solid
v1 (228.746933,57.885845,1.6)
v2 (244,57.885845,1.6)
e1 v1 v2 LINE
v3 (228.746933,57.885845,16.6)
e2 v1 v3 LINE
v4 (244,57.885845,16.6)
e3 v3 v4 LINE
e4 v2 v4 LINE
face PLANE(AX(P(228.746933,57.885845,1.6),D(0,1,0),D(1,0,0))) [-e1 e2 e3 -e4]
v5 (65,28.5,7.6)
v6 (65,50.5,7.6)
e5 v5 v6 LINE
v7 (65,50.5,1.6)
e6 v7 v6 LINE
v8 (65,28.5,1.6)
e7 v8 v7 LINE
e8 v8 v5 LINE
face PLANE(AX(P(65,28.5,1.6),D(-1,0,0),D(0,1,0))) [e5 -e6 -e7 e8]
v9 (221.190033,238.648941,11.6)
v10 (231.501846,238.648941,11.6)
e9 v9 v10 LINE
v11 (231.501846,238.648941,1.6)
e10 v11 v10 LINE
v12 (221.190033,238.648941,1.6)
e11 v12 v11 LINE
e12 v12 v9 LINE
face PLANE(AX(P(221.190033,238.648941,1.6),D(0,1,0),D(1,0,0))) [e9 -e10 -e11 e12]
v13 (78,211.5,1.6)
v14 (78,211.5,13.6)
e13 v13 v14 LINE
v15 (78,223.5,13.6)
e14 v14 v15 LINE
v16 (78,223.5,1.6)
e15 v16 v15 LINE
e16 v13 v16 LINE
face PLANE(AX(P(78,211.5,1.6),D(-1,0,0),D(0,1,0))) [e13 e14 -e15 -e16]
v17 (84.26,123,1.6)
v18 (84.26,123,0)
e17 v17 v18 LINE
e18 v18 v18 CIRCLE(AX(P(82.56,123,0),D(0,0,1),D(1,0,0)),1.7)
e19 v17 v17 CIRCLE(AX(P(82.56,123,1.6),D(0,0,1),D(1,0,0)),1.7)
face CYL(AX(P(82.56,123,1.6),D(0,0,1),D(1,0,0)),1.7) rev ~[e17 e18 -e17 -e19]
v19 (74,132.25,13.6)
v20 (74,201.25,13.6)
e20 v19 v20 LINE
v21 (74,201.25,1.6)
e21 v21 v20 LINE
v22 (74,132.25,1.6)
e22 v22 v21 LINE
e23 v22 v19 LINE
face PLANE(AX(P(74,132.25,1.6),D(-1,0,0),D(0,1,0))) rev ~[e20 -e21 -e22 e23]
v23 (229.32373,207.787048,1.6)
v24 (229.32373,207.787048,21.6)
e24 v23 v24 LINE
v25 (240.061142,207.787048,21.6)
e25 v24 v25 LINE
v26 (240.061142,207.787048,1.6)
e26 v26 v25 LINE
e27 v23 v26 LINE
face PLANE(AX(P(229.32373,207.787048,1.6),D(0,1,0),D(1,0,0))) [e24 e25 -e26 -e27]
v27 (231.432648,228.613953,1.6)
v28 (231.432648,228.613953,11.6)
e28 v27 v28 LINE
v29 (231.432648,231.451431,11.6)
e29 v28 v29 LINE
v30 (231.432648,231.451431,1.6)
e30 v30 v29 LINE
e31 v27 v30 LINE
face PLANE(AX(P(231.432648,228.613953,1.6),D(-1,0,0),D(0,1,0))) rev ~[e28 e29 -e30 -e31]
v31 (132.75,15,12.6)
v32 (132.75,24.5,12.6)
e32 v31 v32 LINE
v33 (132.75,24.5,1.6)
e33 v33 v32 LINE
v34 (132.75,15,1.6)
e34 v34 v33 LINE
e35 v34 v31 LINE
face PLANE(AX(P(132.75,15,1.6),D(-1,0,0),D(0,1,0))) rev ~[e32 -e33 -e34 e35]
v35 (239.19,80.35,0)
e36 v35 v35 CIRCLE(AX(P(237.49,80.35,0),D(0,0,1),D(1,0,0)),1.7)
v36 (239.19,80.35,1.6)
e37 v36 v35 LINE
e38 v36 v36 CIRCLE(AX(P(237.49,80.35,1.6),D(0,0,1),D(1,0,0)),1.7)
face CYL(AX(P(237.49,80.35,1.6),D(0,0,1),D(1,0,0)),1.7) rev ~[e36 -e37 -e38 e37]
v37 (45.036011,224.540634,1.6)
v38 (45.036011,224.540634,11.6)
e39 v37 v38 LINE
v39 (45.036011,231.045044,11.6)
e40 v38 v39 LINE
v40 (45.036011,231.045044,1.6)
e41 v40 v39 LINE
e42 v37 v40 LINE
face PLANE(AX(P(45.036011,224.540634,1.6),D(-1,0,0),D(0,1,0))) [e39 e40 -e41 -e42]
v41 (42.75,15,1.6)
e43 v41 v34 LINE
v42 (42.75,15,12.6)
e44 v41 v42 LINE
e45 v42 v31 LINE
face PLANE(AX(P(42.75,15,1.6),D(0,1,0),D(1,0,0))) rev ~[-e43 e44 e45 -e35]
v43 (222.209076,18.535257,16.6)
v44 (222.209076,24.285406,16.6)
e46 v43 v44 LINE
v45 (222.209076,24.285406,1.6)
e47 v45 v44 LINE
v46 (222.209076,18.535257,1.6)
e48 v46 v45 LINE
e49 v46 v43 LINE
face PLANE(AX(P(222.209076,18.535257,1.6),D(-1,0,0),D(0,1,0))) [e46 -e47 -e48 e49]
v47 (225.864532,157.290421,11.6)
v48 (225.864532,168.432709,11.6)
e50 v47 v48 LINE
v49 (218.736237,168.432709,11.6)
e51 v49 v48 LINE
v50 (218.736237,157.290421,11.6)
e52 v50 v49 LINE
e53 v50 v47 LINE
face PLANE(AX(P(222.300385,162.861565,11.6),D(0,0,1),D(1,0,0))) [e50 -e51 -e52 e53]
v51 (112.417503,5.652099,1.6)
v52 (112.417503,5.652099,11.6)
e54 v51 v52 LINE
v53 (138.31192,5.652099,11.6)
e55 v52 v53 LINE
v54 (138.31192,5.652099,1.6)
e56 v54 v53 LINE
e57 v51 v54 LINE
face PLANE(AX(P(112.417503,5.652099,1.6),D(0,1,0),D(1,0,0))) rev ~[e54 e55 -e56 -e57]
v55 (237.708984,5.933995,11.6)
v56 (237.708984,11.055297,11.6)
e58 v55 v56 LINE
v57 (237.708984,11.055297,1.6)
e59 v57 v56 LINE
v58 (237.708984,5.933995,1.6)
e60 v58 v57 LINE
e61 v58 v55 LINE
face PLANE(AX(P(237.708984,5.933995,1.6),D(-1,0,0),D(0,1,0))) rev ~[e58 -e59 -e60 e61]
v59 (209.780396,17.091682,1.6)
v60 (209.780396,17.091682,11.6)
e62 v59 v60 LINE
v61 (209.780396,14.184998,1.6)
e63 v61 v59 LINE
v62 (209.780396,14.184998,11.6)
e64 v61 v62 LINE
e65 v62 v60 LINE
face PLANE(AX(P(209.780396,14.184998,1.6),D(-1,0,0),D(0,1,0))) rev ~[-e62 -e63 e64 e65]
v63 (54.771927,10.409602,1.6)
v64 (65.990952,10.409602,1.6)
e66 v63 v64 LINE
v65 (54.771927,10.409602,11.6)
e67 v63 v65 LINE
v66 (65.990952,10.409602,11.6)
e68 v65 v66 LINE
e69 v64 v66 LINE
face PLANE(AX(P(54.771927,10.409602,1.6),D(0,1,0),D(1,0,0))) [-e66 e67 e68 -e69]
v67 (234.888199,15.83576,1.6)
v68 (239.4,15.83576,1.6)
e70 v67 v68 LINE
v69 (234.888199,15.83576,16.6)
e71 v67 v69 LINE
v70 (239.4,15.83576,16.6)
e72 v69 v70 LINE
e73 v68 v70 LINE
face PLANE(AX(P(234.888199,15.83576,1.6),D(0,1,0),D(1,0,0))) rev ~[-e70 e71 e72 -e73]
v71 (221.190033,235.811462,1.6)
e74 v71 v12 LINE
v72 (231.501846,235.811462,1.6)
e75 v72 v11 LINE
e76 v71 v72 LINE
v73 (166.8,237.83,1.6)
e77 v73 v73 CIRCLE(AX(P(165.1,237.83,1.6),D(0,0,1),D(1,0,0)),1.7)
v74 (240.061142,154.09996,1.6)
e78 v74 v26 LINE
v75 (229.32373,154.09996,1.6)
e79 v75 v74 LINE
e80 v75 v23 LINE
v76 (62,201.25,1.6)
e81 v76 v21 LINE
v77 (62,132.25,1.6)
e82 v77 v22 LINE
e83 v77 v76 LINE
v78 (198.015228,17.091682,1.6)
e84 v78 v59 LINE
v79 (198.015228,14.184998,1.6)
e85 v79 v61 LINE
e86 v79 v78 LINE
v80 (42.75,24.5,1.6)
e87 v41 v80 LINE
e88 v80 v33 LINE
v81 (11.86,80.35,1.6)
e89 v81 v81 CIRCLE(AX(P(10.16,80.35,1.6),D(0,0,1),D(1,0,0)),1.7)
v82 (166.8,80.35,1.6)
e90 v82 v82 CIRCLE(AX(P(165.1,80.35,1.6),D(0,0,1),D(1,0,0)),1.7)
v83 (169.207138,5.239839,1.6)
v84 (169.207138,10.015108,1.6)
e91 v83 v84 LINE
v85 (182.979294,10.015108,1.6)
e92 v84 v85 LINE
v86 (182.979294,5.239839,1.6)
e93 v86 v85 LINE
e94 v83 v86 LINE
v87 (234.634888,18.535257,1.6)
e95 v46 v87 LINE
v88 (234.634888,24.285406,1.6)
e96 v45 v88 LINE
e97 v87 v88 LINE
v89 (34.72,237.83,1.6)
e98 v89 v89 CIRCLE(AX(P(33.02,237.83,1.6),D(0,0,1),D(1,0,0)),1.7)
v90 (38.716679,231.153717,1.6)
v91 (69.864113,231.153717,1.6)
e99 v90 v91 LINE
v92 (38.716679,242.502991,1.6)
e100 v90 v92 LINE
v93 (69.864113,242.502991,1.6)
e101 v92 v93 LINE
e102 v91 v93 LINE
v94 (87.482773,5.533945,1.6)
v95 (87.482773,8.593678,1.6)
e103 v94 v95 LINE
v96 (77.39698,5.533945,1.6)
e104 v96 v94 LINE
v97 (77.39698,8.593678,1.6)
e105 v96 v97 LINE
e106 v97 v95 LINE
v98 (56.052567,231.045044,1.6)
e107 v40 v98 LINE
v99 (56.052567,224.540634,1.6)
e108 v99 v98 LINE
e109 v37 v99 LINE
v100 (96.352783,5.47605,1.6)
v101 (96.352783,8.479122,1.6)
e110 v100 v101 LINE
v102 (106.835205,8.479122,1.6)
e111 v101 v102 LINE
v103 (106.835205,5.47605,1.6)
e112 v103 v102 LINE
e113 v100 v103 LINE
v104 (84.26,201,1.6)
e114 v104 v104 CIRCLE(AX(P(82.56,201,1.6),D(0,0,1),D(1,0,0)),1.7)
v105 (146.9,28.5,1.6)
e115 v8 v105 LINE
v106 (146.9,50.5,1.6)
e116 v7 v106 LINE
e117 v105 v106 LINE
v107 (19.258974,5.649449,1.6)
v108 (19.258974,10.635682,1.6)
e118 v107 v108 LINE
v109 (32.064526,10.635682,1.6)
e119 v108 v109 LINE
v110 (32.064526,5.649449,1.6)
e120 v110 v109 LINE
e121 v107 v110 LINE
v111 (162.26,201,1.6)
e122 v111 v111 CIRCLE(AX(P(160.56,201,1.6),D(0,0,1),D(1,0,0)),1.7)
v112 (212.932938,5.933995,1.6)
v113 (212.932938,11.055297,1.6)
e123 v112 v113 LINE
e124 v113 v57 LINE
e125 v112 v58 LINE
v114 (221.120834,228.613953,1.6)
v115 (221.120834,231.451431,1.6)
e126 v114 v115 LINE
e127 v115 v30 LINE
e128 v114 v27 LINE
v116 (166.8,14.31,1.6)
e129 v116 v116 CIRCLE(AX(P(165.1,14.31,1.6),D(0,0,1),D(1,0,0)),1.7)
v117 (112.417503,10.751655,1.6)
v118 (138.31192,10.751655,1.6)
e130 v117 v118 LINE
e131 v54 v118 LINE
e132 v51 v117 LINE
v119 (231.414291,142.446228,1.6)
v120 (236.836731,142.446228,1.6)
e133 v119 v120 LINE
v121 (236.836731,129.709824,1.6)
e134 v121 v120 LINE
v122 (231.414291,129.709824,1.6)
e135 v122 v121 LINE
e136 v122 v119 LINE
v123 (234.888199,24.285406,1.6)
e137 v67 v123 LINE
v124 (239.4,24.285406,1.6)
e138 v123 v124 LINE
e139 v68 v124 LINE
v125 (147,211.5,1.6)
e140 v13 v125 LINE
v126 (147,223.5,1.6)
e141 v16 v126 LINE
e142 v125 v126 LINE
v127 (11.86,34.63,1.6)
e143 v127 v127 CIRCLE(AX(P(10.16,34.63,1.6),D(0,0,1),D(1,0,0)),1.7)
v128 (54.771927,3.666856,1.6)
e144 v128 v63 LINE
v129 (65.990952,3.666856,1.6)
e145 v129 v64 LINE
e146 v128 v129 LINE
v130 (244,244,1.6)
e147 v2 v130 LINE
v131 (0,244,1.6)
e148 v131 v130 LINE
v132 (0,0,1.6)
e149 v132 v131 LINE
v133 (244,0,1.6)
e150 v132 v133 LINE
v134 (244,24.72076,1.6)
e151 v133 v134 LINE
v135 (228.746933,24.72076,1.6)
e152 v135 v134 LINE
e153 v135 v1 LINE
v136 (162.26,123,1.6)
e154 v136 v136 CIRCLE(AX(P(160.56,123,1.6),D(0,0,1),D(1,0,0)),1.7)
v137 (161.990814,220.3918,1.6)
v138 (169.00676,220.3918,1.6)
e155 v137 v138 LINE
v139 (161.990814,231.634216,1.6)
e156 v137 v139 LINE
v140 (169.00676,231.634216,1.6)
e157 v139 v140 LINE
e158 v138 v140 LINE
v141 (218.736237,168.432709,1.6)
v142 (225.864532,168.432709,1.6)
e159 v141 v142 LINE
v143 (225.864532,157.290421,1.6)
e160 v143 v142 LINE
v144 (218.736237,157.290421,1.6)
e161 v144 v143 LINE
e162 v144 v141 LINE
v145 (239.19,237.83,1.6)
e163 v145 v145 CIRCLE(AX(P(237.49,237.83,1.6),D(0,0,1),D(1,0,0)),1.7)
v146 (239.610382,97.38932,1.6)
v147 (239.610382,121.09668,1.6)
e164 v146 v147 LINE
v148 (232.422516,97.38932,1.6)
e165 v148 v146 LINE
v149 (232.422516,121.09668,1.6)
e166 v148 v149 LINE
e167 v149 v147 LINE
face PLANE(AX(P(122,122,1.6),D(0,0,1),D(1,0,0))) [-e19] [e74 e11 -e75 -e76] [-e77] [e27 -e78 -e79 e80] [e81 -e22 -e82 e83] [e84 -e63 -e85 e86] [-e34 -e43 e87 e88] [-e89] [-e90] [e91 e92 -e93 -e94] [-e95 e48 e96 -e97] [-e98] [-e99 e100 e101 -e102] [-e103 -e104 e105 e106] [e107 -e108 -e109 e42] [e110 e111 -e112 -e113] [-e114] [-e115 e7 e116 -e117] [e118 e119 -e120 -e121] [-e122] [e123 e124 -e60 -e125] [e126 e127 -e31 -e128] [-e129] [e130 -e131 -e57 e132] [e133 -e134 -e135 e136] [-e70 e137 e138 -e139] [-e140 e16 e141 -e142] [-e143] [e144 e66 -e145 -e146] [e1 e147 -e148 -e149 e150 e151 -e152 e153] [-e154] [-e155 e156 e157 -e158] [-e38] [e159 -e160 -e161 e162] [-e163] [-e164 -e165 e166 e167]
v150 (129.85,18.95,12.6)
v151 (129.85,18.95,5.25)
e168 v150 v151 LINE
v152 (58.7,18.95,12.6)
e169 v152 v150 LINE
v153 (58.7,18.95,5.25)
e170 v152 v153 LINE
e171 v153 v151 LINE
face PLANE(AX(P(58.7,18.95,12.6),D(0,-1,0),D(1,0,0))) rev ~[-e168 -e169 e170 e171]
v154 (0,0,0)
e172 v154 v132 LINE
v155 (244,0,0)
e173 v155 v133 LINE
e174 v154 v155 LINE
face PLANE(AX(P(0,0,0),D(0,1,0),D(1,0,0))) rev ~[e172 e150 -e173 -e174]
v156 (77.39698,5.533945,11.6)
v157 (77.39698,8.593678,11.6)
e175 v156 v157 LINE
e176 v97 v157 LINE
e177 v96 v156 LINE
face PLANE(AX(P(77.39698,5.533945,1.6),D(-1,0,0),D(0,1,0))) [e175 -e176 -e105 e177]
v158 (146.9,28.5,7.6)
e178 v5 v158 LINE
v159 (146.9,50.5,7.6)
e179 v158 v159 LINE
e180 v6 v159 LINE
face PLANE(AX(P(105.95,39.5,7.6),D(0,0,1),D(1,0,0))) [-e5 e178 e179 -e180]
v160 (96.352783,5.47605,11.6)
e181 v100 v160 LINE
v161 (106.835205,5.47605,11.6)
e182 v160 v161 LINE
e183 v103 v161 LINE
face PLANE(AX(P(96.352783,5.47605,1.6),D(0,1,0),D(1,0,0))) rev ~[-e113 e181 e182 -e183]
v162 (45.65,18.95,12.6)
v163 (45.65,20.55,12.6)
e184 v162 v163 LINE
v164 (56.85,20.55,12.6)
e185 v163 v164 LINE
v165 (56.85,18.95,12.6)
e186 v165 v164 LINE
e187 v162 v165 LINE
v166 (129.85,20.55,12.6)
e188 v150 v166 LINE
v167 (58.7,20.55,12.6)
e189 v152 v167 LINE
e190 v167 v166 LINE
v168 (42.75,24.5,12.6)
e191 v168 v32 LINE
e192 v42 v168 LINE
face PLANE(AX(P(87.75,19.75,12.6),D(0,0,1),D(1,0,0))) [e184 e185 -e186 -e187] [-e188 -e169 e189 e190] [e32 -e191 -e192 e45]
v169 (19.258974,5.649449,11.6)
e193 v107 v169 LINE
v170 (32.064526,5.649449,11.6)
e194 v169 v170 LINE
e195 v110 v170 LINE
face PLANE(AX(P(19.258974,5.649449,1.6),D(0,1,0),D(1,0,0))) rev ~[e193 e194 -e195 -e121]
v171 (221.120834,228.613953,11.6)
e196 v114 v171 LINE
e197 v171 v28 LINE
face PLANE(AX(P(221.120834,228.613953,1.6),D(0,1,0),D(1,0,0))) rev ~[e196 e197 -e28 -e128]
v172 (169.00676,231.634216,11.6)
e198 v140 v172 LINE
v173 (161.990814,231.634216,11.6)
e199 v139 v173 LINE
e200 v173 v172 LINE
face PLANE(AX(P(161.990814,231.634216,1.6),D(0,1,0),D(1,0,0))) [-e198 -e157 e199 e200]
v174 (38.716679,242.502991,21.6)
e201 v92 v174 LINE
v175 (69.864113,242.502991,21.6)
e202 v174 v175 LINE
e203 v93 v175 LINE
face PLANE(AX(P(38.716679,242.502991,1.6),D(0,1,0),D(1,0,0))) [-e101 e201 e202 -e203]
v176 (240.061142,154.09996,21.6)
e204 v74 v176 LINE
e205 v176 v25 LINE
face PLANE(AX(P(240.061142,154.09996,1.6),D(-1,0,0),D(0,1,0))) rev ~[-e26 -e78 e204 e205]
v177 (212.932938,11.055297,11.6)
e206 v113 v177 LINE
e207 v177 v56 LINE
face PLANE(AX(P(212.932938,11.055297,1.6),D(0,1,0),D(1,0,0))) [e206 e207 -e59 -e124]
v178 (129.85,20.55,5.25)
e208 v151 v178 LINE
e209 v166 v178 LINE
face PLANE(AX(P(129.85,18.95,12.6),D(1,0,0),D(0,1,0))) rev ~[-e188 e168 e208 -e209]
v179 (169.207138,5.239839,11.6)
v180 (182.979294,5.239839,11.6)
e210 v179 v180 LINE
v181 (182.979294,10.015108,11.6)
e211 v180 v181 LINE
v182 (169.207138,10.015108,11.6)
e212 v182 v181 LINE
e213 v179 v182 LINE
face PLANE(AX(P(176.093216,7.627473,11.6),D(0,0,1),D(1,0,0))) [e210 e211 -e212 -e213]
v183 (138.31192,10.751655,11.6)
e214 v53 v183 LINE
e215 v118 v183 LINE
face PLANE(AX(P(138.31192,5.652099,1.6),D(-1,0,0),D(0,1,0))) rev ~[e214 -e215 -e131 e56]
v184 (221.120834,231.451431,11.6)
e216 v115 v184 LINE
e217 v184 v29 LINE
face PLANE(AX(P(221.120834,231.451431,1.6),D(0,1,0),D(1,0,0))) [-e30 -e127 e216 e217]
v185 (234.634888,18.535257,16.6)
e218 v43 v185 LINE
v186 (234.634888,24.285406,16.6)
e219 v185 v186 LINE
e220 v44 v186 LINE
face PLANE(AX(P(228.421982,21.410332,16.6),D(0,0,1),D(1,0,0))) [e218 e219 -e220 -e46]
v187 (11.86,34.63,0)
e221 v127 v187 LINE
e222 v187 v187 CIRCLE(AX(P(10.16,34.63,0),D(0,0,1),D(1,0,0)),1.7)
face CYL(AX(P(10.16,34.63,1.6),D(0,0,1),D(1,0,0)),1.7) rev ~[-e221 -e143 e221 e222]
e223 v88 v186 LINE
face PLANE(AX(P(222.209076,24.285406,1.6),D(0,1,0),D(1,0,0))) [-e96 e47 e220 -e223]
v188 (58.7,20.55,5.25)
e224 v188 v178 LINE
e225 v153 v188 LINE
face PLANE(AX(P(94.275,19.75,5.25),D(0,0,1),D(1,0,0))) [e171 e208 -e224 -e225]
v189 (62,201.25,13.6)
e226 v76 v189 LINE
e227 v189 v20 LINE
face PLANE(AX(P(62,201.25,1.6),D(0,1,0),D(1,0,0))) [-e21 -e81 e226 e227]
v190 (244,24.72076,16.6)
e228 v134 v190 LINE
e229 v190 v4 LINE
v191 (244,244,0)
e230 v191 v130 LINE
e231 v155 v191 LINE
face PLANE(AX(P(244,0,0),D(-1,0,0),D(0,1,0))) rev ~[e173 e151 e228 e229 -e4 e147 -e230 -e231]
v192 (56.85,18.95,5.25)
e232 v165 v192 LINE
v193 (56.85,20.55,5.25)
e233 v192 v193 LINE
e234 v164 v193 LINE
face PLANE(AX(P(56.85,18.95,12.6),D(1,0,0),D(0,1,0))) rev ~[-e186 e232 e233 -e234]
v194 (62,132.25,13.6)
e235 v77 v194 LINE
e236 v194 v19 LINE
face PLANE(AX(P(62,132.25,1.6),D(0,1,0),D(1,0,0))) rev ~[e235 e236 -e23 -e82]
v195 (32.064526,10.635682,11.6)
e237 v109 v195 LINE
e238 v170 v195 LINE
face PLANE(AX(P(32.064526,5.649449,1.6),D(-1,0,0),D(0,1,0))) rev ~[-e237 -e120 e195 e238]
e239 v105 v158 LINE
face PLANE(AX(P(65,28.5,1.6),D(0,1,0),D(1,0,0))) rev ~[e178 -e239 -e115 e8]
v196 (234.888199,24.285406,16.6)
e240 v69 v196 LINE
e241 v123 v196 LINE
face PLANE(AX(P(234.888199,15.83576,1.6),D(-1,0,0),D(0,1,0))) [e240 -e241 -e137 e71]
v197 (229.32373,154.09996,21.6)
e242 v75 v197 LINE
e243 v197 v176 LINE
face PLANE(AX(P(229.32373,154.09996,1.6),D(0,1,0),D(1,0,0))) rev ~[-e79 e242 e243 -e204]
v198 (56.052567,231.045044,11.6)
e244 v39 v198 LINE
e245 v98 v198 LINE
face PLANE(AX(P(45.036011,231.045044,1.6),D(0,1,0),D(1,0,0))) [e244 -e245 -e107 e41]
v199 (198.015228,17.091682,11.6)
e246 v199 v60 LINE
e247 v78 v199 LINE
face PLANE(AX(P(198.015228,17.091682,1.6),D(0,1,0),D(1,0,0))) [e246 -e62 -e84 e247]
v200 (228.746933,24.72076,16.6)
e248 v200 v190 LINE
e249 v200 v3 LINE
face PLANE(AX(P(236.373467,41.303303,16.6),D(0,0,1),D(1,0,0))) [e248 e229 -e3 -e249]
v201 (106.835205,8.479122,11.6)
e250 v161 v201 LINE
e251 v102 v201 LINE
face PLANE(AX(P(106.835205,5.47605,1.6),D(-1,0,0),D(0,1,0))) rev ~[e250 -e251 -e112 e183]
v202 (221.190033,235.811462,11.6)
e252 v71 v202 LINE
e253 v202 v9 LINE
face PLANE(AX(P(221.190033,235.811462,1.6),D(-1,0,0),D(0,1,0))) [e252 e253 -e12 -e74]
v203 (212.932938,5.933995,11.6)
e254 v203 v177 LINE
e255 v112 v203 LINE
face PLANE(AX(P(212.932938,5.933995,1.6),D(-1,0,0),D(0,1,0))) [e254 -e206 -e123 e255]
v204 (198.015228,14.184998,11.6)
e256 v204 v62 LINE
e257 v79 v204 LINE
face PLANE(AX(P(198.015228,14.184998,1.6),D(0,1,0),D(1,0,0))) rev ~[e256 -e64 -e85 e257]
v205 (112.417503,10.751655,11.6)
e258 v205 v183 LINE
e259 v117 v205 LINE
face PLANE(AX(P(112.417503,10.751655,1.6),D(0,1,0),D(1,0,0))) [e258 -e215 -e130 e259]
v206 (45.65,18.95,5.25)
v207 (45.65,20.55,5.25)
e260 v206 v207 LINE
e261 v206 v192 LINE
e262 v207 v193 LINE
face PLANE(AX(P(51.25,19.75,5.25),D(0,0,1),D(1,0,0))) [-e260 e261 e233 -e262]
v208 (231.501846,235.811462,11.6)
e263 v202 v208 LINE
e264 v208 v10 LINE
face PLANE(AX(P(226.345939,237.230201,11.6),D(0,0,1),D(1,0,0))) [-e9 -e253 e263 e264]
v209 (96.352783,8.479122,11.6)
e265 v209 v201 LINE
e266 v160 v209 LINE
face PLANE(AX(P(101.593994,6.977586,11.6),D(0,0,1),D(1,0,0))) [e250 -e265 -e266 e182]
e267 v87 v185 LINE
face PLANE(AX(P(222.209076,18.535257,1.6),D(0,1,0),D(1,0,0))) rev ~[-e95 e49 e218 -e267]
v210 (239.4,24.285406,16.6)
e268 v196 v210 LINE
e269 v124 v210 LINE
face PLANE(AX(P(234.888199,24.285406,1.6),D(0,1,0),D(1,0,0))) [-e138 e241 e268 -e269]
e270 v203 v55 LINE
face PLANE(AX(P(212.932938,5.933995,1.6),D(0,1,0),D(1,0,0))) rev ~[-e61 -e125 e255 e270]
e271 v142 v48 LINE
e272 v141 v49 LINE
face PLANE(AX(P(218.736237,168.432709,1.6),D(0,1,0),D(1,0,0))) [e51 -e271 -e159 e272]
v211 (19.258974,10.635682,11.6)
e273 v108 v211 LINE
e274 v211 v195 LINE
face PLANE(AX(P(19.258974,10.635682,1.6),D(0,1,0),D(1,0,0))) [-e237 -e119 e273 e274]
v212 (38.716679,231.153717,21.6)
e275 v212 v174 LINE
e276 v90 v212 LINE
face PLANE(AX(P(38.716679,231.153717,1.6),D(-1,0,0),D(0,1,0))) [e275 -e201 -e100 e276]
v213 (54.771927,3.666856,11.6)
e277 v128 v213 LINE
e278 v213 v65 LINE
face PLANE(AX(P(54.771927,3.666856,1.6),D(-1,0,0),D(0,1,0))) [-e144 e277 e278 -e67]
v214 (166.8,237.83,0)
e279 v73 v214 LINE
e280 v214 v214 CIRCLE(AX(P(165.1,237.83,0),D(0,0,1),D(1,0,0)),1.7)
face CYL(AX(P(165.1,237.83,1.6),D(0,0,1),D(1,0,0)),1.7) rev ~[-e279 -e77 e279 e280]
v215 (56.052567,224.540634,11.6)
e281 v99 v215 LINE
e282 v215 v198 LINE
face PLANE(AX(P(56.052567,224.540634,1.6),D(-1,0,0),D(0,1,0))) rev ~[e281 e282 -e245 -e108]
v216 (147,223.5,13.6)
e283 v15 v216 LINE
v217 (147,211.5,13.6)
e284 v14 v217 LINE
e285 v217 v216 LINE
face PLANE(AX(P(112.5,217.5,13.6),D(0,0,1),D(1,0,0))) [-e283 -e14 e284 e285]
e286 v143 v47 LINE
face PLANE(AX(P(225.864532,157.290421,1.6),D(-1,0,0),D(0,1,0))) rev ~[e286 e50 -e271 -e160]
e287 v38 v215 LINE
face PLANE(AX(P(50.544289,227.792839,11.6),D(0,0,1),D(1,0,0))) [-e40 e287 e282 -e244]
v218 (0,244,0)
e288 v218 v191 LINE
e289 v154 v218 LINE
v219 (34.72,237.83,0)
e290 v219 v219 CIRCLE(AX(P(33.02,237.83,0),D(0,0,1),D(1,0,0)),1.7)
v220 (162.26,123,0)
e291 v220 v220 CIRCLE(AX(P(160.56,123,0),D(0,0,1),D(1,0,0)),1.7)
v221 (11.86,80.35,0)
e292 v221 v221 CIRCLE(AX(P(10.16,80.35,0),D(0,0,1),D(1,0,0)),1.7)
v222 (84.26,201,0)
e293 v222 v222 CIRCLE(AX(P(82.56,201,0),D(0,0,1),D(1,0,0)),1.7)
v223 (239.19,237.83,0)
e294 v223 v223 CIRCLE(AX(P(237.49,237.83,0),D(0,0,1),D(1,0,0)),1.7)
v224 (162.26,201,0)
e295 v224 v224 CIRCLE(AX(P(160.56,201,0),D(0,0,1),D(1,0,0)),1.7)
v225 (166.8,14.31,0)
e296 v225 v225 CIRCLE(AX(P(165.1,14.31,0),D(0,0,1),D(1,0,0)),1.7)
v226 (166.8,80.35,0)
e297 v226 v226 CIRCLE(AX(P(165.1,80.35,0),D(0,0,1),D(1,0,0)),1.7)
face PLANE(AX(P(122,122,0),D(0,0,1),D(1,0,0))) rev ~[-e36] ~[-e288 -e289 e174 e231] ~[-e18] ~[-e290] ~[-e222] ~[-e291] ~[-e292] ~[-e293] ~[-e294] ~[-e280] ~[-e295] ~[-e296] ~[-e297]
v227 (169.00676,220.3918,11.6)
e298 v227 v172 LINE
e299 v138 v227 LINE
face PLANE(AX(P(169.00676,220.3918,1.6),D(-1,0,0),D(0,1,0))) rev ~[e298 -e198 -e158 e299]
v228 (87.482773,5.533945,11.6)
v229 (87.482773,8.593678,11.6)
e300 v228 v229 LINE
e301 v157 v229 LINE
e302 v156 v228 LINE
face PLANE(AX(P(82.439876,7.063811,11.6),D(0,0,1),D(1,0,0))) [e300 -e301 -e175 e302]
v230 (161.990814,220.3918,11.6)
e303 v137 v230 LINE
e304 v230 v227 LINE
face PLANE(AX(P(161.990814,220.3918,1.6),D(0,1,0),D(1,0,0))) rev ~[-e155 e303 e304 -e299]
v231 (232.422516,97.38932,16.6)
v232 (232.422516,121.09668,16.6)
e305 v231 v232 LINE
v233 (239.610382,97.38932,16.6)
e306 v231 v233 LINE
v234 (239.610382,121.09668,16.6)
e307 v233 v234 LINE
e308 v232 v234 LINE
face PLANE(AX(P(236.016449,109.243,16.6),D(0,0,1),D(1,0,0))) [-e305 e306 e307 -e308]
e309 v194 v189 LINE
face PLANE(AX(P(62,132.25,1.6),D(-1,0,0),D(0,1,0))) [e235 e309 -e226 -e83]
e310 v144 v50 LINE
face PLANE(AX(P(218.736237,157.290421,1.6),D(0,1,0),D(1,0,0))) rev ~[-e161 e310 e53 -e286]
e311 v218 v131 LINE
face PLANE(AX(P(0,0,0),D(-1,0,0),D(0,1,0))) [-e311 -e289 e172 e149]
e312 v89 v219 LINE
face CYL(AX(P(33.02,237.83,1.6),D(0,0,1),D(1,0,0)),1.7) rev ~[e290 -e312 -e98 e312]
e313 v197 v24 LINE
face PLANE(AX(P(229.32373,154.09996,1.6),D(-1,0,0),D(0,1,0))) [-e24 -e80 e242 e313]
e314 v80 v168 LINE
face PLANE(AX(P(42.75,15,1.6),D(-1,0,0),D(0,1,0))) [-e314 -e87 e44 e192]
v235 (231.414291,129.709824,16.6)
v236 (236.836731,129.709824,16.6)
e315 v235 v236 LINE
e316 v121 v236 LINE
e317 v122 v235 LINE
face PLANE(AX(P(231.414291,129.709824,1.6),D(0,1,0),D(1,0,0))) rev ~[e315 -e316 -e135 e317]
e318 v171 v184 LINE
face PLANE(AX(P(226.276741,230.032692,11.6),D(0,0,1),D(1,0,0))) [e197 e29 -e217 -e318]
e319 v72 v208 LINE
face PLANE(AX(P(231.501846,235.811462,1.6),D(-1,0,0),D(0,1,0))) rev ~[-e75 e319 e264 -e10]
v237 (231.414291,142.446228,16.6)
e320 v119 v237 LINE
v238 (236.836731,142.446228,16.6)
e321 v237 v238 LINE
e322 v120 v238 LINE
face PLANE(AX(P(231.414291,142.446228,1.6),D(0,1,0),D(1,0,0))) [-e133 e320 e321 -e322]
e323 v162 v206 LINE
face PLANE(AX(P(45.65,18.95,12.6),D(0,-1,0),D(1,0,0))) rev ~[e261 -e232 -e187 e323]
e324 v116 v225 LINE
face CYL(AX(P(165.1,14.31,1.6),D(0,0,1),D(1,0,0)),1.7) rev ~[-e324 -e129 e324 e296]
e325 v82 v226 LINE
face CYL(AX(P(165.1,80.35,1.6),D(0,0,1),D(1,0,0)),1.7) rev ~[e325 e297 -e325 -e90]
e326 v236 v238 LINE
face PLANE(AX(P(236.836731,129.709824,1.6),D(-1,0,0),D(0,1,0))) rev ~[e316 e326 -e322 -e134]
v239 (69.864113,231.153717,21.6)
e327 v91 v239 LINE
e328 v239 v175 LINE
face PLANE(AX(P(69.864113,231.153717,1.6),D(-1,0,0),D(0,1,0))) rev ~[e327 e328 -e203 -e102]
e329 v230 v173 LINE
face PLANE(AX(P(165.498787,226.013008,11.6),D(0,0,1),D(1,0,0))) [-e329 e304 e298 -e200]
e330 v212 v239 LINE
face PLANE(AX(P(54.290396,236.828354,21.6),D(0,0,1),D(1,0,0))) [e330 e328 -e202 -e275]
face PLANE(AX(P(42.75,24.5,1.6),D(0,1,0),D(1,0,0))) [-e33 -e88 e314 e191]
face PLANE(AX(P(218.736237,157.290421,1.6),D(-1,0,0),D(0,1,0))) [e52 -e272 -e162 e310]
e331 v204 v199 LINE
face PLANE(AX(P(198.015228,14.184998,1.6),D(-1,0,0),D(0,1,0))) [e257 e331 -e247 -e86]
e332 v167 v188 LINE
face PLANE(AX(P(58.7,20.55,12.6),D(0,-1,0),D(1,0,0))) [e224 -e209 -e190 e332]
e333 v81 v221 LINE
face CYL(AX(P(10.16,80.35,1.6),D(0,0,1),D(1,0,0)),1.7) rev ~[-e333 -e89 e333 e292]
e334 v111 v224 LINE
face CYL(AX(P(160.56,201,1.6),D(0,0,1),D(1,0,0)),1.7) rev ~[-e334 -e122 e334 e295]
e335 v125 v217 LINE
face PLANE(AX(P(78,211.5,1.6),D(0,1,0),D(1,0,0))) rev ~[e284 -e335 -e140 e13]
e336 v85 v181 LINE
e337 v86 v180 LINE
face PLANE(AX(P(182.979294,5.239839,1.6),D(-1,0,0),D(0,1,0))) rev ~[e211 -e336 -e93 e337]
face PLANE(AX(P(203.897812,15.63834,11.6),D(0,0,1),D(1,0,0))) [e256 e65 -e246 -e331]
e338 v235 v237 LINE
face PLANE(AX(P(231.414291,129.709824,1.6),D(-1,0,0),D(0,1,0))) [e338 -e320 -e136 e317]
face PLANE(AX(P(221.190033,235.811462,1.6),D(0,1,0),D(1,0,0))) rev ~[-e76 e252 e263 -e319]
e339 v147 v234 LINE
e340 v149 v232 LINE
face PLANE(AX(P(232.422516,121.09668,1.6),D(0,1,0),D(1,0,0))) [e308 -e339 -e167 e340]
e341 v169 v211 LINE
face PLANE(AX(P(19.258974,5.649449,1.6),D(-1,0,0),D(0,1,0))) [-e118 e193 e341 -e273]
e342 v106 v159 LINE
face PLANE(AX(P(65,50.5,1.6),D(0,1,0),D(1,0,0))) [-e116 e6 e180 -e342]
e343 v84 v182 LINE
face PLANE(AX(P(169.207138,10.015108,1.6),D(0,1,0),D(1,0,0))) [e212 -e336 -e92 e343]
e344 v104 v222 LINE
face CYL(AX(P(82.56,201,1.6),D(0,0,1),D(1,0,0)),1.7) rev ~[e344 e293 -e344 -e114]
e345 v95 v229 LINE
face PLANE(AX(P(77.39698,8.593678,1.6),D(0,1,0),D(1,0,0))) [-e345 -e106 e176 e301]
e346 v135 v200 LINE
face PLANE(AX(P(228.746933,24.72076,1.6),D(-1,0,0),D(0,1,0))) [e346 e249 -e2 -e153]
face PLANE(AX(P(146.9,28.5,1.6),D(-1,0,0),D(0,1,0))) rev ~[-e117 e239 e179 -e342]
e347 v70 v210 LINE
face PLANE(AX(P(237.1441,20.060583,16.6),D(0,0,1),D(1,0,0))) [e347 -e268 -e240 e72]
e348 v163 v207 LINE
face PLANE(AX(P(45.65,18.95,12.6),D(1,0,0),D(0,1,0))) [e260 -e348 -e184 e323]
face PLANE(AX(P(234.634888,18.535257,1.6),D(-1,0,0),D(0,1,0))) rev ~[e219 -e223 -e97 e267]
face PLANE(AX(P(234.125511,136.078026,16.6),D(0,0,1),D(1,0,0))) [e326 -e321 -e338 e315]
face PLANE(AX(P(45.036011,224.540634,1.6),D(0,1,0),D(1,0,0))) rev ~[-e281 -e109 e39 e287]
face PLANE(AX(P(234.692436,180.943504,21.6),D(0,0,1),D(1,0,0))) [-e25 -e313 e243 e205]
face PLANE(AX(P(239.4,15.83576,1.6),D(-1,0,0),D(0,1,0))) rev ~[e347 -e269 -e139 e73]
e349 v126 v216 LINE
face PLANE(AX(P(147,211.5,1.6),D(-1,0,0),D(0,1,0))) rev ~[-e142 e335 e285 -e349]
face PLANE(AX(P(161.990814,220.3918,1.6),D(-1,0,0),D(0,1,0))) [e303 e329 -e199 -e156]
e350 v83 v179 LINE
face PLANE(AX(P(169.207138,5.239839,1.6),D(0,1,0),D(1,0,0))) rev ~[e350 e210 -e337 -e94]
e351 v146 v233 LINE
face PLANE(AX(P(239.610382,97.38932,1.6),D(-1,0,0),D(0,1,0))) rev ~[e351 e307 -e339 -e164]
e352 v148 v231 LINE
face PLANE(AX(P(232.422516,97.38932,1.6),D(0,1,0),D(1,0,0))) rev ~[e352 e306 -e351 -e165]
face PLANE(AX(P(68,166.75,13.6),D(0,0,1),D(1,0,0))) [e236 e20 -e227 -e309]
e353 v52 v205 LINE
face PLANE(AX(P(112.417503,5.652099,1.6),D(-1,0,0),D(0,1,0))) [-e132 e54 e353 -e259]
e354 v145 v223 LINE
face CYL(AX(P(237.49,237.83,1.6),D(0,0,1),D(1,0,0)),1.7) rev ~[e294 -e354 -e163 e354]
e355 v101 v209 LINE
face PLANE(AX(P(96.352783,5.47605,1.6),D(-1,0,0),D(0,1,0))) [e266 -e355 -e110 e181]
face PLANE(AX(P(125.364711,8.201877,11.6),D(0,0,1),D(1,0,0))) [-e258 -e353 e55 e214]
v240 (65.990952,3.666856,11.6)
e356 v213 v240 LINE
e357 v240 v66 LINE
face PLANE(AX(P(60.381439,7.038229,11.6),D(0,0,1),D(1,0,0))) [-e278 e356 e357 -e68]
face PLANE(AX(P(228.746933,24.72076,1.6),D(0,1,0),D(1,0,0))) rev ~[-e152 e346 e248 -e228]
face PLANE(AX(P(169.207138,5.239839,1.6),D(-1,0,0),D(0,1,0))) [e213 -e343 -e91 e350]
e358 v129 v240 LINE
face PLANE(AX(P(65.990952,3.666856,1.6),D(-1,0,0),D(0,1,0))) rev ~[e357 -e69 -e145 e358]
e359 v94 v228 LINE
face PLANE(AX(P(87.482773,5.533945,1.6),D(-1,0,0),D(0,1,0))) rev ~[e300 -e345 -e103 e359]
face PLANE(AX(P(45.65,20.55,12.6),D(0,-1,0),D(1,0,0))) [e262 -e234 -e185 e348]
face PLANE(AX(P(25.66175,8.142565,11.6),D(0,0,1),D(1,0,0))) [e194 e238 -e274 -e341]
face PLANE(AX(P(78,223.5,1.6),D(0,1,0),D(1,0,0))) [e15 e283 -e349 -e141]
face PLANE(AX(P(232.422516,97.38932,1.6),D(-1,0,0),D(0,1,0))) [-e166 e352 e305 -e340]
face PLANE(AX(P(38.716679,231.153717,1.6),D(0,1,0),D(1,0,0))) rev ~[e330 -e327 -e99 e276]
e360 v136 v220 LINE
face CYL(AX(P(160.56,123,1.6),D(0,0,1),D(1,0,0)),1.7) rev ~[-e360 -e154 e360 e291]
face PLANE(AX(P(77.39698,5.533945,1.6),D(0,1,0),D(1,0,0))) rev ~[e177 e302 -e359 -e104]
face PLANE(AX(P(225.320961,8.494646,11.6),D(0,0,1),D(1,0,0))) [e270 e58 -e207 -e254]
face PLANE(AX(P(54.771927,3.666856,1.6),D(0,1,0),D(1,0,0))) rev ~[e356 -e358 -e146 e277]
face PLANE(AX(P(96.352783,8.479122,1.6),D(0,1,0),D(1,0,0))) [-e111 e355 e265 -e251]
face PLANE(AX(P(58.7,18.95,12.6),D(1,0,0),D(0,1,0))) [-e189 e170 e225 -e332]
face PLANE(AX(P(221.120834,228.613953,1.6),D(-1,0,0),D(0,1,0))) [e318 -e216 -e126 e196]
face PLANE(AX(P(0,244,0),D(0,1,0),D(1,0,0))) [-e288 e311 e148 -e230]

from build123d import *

# Parameters (mm, degrees)
SKETCH083_W     = 244
SKETCH083_H     = 244
PAD053_DEPTH    = 1.6
SKETCH084_W     = 12.805552
SKETCH084_H     = 4.986233
SKETCH084_W_2   = 11.219025
SKETCH084_H_2   = 6.742746
SKETCH084_W_3   = 10.085793
SKETCH084_H_3   = 3.059733
SKETCH084_W_4   = 10.482422
SKETCH084_H_4   = 3.003072
SKETCH084_W_5   = 25.894417
SKETCH084_H_5   = 5.099556
SKETCH084_W_6   = 13.772156
SKETCH084_H_6   = 4.775269
SKETCH084_W_7   = 24.776046
SKETCH084_H_7   = 5.121302
SKETCH084_W_8   = 11.765168
SKETCH084_H_8   = 2.906684
SKETCH084_W_9   = 7.128295
SKETCH084_H_9   = 11.142288
SKETCH084_W_10  = 10.311813
SKETCH084_H_10  = 2.837479
SKETCH084_W_11  = 10.311814
SKETCH084_H_11  = 2.837478
SKETCH084_W_12  = 7.015946
SKETCH084_H_12  = 11.242416
SKETCH084_W_13  = 11.016556
SKETCH084_H_13  = 6.50441
PAD054_DEPTH    = 10
SKETCH085_W     = 15.253067
SKETCH085_H     = 33.165085
SKETCH085_W_2   = 7.187866
SKETCH085_H_2   = 23.70736
SKETCH085_W_3   = 5.42244
SKETCH085_H_3   = 12.736404
SKETCH085_W_4   = 12.425812
SKETCH085_H_4   = 5.750149
SKETCH085_W_5   = 4.511801
SKETCH085_H_5   = 8.449646
PAD055_DEPTH    = 15
SKETCH086_W     = 10.737412
SKETCH086_H     = 53.687088
SKETCH086_W_2   = 31.147434
SKETCH086_H_2   = 11.349274
PAD056_DEPTH    = 20
SKETCH089_W     = 90
SKETCH089_H     = 9.5
PAD059_DEPTH    = 11
SKETCH090_W     = 81.9
SKETCH090_H     = 22
PAD061_DEPTH    = 6
SKETCH100_R     = 1.7
HOLE_DEPTH      = 1.601
SKETCH_W        = 69
SKETCH_H        = 12
SKETCH_W_2      = 12
SKETCH_H_2      = 69
PAD_DEPTH       = 12
SKETCH116_W     = 11.2
SKETCH116_H     = 1.6
SKETCH116_W_2   = 71.15
POCKET029_DEPTH = 7.35


with BuildPart() as part:
    # Sketch083 → Pad053 (new body)
    with BuildSketch(Plane.XY):
        with Locations((122, 122)):
            Rectangle(SKETCH083_W, SKETCH083_H)
    extrude(amount=PAD053_DEPTH)

    # Sketch084 (on Face6 of Pad053) → Pad054 (join)
    with BuildSketch(Plane.XY.offset(1.6)):
        with Locations((25.66175, 8.1425655)):
            Rectangle(SKETCH084_W, SKETCH084_H)
        with Locations((60.3814395, 7.038229)):
            Rectangle(SKETCH084_W_2, SKETCH084_H_2)
        with Locations((82.4398765, 7.0638115)):
            Rectangle(SKETCH084_W_3, SKETCH084_H_3)
        with Locations((101.593994, 6.977586)):
            Rectangle(SKETCH084_W_4, SKETCH084_H_4)
        with Locations((125.3647115, 8.201877)):
            Rectangle(SKETCH084_W_5, SKETCH084_H_5)
        with Locations((176.093216, 7.6274735)):
            Rectangle(SKETCH084_W_6, SKETCH084_H_6)
        with Locations((225.320961, 8.494646)):
            Rectangle(SKETCH084_W_7, SKETCH084_H_7)
        with Locations((203.897812, 15.63834)):
            Rectangle(SKETCH084_W_8, SKETCH084_H_8)
        with Locations((222.3003845, 162.861565)):
            Rectangle(SKETCH084_W_9, SKETCH084_H_9)
        with Locations((226.3459395, 237.2302015)):
            Rectangle(SKETCH084_W_10, SKETCH084_H_10)
        with Locations((226.276741, 230.032692)):
            Rectangle(SKETCH084_W_11, SKETCH084_H_11)
        with Locations((165.498787, 226.013008)):
            Rectangle(SKETCH084_W_12, SKETCH084_H_12)
        with Locations((50.544289, 227.792839)):
            Rectangle(SKETCH084_W_13, SKETCH084_H_13)
    extrude(amount=PAD054_DEPTH)

    # Sketch085 (on Face5 of Pad054) → Pad055 (join)
    with BuildSketch(Plane.XY.offset(1.6)):
        with Locations((236.3734665, 41.3033025)):
            Rectangle(SKETCH085_W, SKETCH085_H)
        with Locations((236.016449, 109.243)):
            Rectangle(SKETCH085_W_2, SKETCH085_H_2)
        with Locations((234.125511, 136.078026)):
            Rectangle(SKETCH085_W_3, SKETCH085_H_3)
        with Locations((228.421982, 21.4103315)):
            Rectangle(SKETCH085_W_4, SKETCH085_H_4)
        with Locations((237.1440995, 20.060583)):
            Rectangle(SKETCH085_W_5, SKETCH085_H_5)
    extrude(amount=PAD055_DEPTH)

    # Sketch086 (on Face5 of Pad055) → Pad056 (join)
    with BuildSketch(Plane.XY.offset(1.6)):
        with Locations((234.692436, 180.943504)):
            Rectangle(SKETCH086_W, SKETCH086_H)
        with Locations((54.290396, 236.828354)):
            Rectangle(SKETCH086_W_2, SKETCH086_H_2)
    extrude(amount=PAD056_DEPTH)

    # Sketch089 → Pad059 (join)
    with BuildSketch(Plane.XY.offset(1.6)):
        with Locations((87.75, 19.75)):
            Rectangle(SKETCH089_W, SKETCH089_H)
    extrude(amount=PAD059_DEPTH)

    # Sketch090 (on Face5 of Pad059) → Pad061 (join)
    with BuildSketch(Plane.XY.offset(1.6)):
        with Locations((105.95, 39.5)):
            Rectangle(SKETCH090_W, SKETCH090_H)
    extrude(amount=PAD061_DEPTH)

    # Sketch100 → Hole (cut, through all)
    with BuildSketch(Plane.XY.offset(1.6)):
        with Locations((82.56, 123)):
            Circle(SKETCH100_R)
        with Locations((160.56, 123)):
            Circle(SKETCH100_R)
        with Locations((160.56, 201)):
            Circle(SKETCH100_R)
        with Locations((82.56, 201)):
            Circle(SKETCH100_R)
        with Locations((33.02, 237.83)):
            Circle(SKETCH100_R)
        with Locations((165.1, 237.83)):
            Circle(SKETCH100_R)
        with Locations((237.49, 237.83)):
            Circle(SKETCH100_R)
        with Locations((237.49, 80.35)):
            Circle(SKETCH100_R)
        with Locations((165.1, 80.35)):
            Circle(SKETCH100_R)
        with Locations((165.1, 14.31)):
            Circle(SKETCH100_R)
        with Locations((10.16, 34.63)):
            Circle(SKETCH100_R)
        with Locations((10.16, 80.35)):
            Circle(SKETCH100_R)
    extrude(amount=-HOLE_DEPTH, mode=Mode.SUBTRACT)

    # Sketch (on Face5 of Pad061) → Pad (join)
    with BuildSketch(Plane.XY.offset(1.6)):
        with Locations((112.5, 217.5)):
            Rectangle(SKETCH_W, SKETCH_H)
        with Locations((68, 166.75)):
            Rectangle(SKETCH_W_2, SKETCH_H_2)
    extrude(amount=PAD_DEPTH)

    # Sketch116 (on Face119 of Pad) → Pocket029 (cut)
    with BuildSketch(Plane.XY.offset(12.6)):
        with Locations((51.25, 19.75)):
            Rectangle(SKETCH116_W, SKETCH116_H)
        with Locations((94.275, 19.75)):
            Rectangle(SKETCH116_W_2, SKETCH116_H)
    extrude(amount=-POCKET029_DEPTH, mode=Mode.SUBTRACT)


solid = part.part
